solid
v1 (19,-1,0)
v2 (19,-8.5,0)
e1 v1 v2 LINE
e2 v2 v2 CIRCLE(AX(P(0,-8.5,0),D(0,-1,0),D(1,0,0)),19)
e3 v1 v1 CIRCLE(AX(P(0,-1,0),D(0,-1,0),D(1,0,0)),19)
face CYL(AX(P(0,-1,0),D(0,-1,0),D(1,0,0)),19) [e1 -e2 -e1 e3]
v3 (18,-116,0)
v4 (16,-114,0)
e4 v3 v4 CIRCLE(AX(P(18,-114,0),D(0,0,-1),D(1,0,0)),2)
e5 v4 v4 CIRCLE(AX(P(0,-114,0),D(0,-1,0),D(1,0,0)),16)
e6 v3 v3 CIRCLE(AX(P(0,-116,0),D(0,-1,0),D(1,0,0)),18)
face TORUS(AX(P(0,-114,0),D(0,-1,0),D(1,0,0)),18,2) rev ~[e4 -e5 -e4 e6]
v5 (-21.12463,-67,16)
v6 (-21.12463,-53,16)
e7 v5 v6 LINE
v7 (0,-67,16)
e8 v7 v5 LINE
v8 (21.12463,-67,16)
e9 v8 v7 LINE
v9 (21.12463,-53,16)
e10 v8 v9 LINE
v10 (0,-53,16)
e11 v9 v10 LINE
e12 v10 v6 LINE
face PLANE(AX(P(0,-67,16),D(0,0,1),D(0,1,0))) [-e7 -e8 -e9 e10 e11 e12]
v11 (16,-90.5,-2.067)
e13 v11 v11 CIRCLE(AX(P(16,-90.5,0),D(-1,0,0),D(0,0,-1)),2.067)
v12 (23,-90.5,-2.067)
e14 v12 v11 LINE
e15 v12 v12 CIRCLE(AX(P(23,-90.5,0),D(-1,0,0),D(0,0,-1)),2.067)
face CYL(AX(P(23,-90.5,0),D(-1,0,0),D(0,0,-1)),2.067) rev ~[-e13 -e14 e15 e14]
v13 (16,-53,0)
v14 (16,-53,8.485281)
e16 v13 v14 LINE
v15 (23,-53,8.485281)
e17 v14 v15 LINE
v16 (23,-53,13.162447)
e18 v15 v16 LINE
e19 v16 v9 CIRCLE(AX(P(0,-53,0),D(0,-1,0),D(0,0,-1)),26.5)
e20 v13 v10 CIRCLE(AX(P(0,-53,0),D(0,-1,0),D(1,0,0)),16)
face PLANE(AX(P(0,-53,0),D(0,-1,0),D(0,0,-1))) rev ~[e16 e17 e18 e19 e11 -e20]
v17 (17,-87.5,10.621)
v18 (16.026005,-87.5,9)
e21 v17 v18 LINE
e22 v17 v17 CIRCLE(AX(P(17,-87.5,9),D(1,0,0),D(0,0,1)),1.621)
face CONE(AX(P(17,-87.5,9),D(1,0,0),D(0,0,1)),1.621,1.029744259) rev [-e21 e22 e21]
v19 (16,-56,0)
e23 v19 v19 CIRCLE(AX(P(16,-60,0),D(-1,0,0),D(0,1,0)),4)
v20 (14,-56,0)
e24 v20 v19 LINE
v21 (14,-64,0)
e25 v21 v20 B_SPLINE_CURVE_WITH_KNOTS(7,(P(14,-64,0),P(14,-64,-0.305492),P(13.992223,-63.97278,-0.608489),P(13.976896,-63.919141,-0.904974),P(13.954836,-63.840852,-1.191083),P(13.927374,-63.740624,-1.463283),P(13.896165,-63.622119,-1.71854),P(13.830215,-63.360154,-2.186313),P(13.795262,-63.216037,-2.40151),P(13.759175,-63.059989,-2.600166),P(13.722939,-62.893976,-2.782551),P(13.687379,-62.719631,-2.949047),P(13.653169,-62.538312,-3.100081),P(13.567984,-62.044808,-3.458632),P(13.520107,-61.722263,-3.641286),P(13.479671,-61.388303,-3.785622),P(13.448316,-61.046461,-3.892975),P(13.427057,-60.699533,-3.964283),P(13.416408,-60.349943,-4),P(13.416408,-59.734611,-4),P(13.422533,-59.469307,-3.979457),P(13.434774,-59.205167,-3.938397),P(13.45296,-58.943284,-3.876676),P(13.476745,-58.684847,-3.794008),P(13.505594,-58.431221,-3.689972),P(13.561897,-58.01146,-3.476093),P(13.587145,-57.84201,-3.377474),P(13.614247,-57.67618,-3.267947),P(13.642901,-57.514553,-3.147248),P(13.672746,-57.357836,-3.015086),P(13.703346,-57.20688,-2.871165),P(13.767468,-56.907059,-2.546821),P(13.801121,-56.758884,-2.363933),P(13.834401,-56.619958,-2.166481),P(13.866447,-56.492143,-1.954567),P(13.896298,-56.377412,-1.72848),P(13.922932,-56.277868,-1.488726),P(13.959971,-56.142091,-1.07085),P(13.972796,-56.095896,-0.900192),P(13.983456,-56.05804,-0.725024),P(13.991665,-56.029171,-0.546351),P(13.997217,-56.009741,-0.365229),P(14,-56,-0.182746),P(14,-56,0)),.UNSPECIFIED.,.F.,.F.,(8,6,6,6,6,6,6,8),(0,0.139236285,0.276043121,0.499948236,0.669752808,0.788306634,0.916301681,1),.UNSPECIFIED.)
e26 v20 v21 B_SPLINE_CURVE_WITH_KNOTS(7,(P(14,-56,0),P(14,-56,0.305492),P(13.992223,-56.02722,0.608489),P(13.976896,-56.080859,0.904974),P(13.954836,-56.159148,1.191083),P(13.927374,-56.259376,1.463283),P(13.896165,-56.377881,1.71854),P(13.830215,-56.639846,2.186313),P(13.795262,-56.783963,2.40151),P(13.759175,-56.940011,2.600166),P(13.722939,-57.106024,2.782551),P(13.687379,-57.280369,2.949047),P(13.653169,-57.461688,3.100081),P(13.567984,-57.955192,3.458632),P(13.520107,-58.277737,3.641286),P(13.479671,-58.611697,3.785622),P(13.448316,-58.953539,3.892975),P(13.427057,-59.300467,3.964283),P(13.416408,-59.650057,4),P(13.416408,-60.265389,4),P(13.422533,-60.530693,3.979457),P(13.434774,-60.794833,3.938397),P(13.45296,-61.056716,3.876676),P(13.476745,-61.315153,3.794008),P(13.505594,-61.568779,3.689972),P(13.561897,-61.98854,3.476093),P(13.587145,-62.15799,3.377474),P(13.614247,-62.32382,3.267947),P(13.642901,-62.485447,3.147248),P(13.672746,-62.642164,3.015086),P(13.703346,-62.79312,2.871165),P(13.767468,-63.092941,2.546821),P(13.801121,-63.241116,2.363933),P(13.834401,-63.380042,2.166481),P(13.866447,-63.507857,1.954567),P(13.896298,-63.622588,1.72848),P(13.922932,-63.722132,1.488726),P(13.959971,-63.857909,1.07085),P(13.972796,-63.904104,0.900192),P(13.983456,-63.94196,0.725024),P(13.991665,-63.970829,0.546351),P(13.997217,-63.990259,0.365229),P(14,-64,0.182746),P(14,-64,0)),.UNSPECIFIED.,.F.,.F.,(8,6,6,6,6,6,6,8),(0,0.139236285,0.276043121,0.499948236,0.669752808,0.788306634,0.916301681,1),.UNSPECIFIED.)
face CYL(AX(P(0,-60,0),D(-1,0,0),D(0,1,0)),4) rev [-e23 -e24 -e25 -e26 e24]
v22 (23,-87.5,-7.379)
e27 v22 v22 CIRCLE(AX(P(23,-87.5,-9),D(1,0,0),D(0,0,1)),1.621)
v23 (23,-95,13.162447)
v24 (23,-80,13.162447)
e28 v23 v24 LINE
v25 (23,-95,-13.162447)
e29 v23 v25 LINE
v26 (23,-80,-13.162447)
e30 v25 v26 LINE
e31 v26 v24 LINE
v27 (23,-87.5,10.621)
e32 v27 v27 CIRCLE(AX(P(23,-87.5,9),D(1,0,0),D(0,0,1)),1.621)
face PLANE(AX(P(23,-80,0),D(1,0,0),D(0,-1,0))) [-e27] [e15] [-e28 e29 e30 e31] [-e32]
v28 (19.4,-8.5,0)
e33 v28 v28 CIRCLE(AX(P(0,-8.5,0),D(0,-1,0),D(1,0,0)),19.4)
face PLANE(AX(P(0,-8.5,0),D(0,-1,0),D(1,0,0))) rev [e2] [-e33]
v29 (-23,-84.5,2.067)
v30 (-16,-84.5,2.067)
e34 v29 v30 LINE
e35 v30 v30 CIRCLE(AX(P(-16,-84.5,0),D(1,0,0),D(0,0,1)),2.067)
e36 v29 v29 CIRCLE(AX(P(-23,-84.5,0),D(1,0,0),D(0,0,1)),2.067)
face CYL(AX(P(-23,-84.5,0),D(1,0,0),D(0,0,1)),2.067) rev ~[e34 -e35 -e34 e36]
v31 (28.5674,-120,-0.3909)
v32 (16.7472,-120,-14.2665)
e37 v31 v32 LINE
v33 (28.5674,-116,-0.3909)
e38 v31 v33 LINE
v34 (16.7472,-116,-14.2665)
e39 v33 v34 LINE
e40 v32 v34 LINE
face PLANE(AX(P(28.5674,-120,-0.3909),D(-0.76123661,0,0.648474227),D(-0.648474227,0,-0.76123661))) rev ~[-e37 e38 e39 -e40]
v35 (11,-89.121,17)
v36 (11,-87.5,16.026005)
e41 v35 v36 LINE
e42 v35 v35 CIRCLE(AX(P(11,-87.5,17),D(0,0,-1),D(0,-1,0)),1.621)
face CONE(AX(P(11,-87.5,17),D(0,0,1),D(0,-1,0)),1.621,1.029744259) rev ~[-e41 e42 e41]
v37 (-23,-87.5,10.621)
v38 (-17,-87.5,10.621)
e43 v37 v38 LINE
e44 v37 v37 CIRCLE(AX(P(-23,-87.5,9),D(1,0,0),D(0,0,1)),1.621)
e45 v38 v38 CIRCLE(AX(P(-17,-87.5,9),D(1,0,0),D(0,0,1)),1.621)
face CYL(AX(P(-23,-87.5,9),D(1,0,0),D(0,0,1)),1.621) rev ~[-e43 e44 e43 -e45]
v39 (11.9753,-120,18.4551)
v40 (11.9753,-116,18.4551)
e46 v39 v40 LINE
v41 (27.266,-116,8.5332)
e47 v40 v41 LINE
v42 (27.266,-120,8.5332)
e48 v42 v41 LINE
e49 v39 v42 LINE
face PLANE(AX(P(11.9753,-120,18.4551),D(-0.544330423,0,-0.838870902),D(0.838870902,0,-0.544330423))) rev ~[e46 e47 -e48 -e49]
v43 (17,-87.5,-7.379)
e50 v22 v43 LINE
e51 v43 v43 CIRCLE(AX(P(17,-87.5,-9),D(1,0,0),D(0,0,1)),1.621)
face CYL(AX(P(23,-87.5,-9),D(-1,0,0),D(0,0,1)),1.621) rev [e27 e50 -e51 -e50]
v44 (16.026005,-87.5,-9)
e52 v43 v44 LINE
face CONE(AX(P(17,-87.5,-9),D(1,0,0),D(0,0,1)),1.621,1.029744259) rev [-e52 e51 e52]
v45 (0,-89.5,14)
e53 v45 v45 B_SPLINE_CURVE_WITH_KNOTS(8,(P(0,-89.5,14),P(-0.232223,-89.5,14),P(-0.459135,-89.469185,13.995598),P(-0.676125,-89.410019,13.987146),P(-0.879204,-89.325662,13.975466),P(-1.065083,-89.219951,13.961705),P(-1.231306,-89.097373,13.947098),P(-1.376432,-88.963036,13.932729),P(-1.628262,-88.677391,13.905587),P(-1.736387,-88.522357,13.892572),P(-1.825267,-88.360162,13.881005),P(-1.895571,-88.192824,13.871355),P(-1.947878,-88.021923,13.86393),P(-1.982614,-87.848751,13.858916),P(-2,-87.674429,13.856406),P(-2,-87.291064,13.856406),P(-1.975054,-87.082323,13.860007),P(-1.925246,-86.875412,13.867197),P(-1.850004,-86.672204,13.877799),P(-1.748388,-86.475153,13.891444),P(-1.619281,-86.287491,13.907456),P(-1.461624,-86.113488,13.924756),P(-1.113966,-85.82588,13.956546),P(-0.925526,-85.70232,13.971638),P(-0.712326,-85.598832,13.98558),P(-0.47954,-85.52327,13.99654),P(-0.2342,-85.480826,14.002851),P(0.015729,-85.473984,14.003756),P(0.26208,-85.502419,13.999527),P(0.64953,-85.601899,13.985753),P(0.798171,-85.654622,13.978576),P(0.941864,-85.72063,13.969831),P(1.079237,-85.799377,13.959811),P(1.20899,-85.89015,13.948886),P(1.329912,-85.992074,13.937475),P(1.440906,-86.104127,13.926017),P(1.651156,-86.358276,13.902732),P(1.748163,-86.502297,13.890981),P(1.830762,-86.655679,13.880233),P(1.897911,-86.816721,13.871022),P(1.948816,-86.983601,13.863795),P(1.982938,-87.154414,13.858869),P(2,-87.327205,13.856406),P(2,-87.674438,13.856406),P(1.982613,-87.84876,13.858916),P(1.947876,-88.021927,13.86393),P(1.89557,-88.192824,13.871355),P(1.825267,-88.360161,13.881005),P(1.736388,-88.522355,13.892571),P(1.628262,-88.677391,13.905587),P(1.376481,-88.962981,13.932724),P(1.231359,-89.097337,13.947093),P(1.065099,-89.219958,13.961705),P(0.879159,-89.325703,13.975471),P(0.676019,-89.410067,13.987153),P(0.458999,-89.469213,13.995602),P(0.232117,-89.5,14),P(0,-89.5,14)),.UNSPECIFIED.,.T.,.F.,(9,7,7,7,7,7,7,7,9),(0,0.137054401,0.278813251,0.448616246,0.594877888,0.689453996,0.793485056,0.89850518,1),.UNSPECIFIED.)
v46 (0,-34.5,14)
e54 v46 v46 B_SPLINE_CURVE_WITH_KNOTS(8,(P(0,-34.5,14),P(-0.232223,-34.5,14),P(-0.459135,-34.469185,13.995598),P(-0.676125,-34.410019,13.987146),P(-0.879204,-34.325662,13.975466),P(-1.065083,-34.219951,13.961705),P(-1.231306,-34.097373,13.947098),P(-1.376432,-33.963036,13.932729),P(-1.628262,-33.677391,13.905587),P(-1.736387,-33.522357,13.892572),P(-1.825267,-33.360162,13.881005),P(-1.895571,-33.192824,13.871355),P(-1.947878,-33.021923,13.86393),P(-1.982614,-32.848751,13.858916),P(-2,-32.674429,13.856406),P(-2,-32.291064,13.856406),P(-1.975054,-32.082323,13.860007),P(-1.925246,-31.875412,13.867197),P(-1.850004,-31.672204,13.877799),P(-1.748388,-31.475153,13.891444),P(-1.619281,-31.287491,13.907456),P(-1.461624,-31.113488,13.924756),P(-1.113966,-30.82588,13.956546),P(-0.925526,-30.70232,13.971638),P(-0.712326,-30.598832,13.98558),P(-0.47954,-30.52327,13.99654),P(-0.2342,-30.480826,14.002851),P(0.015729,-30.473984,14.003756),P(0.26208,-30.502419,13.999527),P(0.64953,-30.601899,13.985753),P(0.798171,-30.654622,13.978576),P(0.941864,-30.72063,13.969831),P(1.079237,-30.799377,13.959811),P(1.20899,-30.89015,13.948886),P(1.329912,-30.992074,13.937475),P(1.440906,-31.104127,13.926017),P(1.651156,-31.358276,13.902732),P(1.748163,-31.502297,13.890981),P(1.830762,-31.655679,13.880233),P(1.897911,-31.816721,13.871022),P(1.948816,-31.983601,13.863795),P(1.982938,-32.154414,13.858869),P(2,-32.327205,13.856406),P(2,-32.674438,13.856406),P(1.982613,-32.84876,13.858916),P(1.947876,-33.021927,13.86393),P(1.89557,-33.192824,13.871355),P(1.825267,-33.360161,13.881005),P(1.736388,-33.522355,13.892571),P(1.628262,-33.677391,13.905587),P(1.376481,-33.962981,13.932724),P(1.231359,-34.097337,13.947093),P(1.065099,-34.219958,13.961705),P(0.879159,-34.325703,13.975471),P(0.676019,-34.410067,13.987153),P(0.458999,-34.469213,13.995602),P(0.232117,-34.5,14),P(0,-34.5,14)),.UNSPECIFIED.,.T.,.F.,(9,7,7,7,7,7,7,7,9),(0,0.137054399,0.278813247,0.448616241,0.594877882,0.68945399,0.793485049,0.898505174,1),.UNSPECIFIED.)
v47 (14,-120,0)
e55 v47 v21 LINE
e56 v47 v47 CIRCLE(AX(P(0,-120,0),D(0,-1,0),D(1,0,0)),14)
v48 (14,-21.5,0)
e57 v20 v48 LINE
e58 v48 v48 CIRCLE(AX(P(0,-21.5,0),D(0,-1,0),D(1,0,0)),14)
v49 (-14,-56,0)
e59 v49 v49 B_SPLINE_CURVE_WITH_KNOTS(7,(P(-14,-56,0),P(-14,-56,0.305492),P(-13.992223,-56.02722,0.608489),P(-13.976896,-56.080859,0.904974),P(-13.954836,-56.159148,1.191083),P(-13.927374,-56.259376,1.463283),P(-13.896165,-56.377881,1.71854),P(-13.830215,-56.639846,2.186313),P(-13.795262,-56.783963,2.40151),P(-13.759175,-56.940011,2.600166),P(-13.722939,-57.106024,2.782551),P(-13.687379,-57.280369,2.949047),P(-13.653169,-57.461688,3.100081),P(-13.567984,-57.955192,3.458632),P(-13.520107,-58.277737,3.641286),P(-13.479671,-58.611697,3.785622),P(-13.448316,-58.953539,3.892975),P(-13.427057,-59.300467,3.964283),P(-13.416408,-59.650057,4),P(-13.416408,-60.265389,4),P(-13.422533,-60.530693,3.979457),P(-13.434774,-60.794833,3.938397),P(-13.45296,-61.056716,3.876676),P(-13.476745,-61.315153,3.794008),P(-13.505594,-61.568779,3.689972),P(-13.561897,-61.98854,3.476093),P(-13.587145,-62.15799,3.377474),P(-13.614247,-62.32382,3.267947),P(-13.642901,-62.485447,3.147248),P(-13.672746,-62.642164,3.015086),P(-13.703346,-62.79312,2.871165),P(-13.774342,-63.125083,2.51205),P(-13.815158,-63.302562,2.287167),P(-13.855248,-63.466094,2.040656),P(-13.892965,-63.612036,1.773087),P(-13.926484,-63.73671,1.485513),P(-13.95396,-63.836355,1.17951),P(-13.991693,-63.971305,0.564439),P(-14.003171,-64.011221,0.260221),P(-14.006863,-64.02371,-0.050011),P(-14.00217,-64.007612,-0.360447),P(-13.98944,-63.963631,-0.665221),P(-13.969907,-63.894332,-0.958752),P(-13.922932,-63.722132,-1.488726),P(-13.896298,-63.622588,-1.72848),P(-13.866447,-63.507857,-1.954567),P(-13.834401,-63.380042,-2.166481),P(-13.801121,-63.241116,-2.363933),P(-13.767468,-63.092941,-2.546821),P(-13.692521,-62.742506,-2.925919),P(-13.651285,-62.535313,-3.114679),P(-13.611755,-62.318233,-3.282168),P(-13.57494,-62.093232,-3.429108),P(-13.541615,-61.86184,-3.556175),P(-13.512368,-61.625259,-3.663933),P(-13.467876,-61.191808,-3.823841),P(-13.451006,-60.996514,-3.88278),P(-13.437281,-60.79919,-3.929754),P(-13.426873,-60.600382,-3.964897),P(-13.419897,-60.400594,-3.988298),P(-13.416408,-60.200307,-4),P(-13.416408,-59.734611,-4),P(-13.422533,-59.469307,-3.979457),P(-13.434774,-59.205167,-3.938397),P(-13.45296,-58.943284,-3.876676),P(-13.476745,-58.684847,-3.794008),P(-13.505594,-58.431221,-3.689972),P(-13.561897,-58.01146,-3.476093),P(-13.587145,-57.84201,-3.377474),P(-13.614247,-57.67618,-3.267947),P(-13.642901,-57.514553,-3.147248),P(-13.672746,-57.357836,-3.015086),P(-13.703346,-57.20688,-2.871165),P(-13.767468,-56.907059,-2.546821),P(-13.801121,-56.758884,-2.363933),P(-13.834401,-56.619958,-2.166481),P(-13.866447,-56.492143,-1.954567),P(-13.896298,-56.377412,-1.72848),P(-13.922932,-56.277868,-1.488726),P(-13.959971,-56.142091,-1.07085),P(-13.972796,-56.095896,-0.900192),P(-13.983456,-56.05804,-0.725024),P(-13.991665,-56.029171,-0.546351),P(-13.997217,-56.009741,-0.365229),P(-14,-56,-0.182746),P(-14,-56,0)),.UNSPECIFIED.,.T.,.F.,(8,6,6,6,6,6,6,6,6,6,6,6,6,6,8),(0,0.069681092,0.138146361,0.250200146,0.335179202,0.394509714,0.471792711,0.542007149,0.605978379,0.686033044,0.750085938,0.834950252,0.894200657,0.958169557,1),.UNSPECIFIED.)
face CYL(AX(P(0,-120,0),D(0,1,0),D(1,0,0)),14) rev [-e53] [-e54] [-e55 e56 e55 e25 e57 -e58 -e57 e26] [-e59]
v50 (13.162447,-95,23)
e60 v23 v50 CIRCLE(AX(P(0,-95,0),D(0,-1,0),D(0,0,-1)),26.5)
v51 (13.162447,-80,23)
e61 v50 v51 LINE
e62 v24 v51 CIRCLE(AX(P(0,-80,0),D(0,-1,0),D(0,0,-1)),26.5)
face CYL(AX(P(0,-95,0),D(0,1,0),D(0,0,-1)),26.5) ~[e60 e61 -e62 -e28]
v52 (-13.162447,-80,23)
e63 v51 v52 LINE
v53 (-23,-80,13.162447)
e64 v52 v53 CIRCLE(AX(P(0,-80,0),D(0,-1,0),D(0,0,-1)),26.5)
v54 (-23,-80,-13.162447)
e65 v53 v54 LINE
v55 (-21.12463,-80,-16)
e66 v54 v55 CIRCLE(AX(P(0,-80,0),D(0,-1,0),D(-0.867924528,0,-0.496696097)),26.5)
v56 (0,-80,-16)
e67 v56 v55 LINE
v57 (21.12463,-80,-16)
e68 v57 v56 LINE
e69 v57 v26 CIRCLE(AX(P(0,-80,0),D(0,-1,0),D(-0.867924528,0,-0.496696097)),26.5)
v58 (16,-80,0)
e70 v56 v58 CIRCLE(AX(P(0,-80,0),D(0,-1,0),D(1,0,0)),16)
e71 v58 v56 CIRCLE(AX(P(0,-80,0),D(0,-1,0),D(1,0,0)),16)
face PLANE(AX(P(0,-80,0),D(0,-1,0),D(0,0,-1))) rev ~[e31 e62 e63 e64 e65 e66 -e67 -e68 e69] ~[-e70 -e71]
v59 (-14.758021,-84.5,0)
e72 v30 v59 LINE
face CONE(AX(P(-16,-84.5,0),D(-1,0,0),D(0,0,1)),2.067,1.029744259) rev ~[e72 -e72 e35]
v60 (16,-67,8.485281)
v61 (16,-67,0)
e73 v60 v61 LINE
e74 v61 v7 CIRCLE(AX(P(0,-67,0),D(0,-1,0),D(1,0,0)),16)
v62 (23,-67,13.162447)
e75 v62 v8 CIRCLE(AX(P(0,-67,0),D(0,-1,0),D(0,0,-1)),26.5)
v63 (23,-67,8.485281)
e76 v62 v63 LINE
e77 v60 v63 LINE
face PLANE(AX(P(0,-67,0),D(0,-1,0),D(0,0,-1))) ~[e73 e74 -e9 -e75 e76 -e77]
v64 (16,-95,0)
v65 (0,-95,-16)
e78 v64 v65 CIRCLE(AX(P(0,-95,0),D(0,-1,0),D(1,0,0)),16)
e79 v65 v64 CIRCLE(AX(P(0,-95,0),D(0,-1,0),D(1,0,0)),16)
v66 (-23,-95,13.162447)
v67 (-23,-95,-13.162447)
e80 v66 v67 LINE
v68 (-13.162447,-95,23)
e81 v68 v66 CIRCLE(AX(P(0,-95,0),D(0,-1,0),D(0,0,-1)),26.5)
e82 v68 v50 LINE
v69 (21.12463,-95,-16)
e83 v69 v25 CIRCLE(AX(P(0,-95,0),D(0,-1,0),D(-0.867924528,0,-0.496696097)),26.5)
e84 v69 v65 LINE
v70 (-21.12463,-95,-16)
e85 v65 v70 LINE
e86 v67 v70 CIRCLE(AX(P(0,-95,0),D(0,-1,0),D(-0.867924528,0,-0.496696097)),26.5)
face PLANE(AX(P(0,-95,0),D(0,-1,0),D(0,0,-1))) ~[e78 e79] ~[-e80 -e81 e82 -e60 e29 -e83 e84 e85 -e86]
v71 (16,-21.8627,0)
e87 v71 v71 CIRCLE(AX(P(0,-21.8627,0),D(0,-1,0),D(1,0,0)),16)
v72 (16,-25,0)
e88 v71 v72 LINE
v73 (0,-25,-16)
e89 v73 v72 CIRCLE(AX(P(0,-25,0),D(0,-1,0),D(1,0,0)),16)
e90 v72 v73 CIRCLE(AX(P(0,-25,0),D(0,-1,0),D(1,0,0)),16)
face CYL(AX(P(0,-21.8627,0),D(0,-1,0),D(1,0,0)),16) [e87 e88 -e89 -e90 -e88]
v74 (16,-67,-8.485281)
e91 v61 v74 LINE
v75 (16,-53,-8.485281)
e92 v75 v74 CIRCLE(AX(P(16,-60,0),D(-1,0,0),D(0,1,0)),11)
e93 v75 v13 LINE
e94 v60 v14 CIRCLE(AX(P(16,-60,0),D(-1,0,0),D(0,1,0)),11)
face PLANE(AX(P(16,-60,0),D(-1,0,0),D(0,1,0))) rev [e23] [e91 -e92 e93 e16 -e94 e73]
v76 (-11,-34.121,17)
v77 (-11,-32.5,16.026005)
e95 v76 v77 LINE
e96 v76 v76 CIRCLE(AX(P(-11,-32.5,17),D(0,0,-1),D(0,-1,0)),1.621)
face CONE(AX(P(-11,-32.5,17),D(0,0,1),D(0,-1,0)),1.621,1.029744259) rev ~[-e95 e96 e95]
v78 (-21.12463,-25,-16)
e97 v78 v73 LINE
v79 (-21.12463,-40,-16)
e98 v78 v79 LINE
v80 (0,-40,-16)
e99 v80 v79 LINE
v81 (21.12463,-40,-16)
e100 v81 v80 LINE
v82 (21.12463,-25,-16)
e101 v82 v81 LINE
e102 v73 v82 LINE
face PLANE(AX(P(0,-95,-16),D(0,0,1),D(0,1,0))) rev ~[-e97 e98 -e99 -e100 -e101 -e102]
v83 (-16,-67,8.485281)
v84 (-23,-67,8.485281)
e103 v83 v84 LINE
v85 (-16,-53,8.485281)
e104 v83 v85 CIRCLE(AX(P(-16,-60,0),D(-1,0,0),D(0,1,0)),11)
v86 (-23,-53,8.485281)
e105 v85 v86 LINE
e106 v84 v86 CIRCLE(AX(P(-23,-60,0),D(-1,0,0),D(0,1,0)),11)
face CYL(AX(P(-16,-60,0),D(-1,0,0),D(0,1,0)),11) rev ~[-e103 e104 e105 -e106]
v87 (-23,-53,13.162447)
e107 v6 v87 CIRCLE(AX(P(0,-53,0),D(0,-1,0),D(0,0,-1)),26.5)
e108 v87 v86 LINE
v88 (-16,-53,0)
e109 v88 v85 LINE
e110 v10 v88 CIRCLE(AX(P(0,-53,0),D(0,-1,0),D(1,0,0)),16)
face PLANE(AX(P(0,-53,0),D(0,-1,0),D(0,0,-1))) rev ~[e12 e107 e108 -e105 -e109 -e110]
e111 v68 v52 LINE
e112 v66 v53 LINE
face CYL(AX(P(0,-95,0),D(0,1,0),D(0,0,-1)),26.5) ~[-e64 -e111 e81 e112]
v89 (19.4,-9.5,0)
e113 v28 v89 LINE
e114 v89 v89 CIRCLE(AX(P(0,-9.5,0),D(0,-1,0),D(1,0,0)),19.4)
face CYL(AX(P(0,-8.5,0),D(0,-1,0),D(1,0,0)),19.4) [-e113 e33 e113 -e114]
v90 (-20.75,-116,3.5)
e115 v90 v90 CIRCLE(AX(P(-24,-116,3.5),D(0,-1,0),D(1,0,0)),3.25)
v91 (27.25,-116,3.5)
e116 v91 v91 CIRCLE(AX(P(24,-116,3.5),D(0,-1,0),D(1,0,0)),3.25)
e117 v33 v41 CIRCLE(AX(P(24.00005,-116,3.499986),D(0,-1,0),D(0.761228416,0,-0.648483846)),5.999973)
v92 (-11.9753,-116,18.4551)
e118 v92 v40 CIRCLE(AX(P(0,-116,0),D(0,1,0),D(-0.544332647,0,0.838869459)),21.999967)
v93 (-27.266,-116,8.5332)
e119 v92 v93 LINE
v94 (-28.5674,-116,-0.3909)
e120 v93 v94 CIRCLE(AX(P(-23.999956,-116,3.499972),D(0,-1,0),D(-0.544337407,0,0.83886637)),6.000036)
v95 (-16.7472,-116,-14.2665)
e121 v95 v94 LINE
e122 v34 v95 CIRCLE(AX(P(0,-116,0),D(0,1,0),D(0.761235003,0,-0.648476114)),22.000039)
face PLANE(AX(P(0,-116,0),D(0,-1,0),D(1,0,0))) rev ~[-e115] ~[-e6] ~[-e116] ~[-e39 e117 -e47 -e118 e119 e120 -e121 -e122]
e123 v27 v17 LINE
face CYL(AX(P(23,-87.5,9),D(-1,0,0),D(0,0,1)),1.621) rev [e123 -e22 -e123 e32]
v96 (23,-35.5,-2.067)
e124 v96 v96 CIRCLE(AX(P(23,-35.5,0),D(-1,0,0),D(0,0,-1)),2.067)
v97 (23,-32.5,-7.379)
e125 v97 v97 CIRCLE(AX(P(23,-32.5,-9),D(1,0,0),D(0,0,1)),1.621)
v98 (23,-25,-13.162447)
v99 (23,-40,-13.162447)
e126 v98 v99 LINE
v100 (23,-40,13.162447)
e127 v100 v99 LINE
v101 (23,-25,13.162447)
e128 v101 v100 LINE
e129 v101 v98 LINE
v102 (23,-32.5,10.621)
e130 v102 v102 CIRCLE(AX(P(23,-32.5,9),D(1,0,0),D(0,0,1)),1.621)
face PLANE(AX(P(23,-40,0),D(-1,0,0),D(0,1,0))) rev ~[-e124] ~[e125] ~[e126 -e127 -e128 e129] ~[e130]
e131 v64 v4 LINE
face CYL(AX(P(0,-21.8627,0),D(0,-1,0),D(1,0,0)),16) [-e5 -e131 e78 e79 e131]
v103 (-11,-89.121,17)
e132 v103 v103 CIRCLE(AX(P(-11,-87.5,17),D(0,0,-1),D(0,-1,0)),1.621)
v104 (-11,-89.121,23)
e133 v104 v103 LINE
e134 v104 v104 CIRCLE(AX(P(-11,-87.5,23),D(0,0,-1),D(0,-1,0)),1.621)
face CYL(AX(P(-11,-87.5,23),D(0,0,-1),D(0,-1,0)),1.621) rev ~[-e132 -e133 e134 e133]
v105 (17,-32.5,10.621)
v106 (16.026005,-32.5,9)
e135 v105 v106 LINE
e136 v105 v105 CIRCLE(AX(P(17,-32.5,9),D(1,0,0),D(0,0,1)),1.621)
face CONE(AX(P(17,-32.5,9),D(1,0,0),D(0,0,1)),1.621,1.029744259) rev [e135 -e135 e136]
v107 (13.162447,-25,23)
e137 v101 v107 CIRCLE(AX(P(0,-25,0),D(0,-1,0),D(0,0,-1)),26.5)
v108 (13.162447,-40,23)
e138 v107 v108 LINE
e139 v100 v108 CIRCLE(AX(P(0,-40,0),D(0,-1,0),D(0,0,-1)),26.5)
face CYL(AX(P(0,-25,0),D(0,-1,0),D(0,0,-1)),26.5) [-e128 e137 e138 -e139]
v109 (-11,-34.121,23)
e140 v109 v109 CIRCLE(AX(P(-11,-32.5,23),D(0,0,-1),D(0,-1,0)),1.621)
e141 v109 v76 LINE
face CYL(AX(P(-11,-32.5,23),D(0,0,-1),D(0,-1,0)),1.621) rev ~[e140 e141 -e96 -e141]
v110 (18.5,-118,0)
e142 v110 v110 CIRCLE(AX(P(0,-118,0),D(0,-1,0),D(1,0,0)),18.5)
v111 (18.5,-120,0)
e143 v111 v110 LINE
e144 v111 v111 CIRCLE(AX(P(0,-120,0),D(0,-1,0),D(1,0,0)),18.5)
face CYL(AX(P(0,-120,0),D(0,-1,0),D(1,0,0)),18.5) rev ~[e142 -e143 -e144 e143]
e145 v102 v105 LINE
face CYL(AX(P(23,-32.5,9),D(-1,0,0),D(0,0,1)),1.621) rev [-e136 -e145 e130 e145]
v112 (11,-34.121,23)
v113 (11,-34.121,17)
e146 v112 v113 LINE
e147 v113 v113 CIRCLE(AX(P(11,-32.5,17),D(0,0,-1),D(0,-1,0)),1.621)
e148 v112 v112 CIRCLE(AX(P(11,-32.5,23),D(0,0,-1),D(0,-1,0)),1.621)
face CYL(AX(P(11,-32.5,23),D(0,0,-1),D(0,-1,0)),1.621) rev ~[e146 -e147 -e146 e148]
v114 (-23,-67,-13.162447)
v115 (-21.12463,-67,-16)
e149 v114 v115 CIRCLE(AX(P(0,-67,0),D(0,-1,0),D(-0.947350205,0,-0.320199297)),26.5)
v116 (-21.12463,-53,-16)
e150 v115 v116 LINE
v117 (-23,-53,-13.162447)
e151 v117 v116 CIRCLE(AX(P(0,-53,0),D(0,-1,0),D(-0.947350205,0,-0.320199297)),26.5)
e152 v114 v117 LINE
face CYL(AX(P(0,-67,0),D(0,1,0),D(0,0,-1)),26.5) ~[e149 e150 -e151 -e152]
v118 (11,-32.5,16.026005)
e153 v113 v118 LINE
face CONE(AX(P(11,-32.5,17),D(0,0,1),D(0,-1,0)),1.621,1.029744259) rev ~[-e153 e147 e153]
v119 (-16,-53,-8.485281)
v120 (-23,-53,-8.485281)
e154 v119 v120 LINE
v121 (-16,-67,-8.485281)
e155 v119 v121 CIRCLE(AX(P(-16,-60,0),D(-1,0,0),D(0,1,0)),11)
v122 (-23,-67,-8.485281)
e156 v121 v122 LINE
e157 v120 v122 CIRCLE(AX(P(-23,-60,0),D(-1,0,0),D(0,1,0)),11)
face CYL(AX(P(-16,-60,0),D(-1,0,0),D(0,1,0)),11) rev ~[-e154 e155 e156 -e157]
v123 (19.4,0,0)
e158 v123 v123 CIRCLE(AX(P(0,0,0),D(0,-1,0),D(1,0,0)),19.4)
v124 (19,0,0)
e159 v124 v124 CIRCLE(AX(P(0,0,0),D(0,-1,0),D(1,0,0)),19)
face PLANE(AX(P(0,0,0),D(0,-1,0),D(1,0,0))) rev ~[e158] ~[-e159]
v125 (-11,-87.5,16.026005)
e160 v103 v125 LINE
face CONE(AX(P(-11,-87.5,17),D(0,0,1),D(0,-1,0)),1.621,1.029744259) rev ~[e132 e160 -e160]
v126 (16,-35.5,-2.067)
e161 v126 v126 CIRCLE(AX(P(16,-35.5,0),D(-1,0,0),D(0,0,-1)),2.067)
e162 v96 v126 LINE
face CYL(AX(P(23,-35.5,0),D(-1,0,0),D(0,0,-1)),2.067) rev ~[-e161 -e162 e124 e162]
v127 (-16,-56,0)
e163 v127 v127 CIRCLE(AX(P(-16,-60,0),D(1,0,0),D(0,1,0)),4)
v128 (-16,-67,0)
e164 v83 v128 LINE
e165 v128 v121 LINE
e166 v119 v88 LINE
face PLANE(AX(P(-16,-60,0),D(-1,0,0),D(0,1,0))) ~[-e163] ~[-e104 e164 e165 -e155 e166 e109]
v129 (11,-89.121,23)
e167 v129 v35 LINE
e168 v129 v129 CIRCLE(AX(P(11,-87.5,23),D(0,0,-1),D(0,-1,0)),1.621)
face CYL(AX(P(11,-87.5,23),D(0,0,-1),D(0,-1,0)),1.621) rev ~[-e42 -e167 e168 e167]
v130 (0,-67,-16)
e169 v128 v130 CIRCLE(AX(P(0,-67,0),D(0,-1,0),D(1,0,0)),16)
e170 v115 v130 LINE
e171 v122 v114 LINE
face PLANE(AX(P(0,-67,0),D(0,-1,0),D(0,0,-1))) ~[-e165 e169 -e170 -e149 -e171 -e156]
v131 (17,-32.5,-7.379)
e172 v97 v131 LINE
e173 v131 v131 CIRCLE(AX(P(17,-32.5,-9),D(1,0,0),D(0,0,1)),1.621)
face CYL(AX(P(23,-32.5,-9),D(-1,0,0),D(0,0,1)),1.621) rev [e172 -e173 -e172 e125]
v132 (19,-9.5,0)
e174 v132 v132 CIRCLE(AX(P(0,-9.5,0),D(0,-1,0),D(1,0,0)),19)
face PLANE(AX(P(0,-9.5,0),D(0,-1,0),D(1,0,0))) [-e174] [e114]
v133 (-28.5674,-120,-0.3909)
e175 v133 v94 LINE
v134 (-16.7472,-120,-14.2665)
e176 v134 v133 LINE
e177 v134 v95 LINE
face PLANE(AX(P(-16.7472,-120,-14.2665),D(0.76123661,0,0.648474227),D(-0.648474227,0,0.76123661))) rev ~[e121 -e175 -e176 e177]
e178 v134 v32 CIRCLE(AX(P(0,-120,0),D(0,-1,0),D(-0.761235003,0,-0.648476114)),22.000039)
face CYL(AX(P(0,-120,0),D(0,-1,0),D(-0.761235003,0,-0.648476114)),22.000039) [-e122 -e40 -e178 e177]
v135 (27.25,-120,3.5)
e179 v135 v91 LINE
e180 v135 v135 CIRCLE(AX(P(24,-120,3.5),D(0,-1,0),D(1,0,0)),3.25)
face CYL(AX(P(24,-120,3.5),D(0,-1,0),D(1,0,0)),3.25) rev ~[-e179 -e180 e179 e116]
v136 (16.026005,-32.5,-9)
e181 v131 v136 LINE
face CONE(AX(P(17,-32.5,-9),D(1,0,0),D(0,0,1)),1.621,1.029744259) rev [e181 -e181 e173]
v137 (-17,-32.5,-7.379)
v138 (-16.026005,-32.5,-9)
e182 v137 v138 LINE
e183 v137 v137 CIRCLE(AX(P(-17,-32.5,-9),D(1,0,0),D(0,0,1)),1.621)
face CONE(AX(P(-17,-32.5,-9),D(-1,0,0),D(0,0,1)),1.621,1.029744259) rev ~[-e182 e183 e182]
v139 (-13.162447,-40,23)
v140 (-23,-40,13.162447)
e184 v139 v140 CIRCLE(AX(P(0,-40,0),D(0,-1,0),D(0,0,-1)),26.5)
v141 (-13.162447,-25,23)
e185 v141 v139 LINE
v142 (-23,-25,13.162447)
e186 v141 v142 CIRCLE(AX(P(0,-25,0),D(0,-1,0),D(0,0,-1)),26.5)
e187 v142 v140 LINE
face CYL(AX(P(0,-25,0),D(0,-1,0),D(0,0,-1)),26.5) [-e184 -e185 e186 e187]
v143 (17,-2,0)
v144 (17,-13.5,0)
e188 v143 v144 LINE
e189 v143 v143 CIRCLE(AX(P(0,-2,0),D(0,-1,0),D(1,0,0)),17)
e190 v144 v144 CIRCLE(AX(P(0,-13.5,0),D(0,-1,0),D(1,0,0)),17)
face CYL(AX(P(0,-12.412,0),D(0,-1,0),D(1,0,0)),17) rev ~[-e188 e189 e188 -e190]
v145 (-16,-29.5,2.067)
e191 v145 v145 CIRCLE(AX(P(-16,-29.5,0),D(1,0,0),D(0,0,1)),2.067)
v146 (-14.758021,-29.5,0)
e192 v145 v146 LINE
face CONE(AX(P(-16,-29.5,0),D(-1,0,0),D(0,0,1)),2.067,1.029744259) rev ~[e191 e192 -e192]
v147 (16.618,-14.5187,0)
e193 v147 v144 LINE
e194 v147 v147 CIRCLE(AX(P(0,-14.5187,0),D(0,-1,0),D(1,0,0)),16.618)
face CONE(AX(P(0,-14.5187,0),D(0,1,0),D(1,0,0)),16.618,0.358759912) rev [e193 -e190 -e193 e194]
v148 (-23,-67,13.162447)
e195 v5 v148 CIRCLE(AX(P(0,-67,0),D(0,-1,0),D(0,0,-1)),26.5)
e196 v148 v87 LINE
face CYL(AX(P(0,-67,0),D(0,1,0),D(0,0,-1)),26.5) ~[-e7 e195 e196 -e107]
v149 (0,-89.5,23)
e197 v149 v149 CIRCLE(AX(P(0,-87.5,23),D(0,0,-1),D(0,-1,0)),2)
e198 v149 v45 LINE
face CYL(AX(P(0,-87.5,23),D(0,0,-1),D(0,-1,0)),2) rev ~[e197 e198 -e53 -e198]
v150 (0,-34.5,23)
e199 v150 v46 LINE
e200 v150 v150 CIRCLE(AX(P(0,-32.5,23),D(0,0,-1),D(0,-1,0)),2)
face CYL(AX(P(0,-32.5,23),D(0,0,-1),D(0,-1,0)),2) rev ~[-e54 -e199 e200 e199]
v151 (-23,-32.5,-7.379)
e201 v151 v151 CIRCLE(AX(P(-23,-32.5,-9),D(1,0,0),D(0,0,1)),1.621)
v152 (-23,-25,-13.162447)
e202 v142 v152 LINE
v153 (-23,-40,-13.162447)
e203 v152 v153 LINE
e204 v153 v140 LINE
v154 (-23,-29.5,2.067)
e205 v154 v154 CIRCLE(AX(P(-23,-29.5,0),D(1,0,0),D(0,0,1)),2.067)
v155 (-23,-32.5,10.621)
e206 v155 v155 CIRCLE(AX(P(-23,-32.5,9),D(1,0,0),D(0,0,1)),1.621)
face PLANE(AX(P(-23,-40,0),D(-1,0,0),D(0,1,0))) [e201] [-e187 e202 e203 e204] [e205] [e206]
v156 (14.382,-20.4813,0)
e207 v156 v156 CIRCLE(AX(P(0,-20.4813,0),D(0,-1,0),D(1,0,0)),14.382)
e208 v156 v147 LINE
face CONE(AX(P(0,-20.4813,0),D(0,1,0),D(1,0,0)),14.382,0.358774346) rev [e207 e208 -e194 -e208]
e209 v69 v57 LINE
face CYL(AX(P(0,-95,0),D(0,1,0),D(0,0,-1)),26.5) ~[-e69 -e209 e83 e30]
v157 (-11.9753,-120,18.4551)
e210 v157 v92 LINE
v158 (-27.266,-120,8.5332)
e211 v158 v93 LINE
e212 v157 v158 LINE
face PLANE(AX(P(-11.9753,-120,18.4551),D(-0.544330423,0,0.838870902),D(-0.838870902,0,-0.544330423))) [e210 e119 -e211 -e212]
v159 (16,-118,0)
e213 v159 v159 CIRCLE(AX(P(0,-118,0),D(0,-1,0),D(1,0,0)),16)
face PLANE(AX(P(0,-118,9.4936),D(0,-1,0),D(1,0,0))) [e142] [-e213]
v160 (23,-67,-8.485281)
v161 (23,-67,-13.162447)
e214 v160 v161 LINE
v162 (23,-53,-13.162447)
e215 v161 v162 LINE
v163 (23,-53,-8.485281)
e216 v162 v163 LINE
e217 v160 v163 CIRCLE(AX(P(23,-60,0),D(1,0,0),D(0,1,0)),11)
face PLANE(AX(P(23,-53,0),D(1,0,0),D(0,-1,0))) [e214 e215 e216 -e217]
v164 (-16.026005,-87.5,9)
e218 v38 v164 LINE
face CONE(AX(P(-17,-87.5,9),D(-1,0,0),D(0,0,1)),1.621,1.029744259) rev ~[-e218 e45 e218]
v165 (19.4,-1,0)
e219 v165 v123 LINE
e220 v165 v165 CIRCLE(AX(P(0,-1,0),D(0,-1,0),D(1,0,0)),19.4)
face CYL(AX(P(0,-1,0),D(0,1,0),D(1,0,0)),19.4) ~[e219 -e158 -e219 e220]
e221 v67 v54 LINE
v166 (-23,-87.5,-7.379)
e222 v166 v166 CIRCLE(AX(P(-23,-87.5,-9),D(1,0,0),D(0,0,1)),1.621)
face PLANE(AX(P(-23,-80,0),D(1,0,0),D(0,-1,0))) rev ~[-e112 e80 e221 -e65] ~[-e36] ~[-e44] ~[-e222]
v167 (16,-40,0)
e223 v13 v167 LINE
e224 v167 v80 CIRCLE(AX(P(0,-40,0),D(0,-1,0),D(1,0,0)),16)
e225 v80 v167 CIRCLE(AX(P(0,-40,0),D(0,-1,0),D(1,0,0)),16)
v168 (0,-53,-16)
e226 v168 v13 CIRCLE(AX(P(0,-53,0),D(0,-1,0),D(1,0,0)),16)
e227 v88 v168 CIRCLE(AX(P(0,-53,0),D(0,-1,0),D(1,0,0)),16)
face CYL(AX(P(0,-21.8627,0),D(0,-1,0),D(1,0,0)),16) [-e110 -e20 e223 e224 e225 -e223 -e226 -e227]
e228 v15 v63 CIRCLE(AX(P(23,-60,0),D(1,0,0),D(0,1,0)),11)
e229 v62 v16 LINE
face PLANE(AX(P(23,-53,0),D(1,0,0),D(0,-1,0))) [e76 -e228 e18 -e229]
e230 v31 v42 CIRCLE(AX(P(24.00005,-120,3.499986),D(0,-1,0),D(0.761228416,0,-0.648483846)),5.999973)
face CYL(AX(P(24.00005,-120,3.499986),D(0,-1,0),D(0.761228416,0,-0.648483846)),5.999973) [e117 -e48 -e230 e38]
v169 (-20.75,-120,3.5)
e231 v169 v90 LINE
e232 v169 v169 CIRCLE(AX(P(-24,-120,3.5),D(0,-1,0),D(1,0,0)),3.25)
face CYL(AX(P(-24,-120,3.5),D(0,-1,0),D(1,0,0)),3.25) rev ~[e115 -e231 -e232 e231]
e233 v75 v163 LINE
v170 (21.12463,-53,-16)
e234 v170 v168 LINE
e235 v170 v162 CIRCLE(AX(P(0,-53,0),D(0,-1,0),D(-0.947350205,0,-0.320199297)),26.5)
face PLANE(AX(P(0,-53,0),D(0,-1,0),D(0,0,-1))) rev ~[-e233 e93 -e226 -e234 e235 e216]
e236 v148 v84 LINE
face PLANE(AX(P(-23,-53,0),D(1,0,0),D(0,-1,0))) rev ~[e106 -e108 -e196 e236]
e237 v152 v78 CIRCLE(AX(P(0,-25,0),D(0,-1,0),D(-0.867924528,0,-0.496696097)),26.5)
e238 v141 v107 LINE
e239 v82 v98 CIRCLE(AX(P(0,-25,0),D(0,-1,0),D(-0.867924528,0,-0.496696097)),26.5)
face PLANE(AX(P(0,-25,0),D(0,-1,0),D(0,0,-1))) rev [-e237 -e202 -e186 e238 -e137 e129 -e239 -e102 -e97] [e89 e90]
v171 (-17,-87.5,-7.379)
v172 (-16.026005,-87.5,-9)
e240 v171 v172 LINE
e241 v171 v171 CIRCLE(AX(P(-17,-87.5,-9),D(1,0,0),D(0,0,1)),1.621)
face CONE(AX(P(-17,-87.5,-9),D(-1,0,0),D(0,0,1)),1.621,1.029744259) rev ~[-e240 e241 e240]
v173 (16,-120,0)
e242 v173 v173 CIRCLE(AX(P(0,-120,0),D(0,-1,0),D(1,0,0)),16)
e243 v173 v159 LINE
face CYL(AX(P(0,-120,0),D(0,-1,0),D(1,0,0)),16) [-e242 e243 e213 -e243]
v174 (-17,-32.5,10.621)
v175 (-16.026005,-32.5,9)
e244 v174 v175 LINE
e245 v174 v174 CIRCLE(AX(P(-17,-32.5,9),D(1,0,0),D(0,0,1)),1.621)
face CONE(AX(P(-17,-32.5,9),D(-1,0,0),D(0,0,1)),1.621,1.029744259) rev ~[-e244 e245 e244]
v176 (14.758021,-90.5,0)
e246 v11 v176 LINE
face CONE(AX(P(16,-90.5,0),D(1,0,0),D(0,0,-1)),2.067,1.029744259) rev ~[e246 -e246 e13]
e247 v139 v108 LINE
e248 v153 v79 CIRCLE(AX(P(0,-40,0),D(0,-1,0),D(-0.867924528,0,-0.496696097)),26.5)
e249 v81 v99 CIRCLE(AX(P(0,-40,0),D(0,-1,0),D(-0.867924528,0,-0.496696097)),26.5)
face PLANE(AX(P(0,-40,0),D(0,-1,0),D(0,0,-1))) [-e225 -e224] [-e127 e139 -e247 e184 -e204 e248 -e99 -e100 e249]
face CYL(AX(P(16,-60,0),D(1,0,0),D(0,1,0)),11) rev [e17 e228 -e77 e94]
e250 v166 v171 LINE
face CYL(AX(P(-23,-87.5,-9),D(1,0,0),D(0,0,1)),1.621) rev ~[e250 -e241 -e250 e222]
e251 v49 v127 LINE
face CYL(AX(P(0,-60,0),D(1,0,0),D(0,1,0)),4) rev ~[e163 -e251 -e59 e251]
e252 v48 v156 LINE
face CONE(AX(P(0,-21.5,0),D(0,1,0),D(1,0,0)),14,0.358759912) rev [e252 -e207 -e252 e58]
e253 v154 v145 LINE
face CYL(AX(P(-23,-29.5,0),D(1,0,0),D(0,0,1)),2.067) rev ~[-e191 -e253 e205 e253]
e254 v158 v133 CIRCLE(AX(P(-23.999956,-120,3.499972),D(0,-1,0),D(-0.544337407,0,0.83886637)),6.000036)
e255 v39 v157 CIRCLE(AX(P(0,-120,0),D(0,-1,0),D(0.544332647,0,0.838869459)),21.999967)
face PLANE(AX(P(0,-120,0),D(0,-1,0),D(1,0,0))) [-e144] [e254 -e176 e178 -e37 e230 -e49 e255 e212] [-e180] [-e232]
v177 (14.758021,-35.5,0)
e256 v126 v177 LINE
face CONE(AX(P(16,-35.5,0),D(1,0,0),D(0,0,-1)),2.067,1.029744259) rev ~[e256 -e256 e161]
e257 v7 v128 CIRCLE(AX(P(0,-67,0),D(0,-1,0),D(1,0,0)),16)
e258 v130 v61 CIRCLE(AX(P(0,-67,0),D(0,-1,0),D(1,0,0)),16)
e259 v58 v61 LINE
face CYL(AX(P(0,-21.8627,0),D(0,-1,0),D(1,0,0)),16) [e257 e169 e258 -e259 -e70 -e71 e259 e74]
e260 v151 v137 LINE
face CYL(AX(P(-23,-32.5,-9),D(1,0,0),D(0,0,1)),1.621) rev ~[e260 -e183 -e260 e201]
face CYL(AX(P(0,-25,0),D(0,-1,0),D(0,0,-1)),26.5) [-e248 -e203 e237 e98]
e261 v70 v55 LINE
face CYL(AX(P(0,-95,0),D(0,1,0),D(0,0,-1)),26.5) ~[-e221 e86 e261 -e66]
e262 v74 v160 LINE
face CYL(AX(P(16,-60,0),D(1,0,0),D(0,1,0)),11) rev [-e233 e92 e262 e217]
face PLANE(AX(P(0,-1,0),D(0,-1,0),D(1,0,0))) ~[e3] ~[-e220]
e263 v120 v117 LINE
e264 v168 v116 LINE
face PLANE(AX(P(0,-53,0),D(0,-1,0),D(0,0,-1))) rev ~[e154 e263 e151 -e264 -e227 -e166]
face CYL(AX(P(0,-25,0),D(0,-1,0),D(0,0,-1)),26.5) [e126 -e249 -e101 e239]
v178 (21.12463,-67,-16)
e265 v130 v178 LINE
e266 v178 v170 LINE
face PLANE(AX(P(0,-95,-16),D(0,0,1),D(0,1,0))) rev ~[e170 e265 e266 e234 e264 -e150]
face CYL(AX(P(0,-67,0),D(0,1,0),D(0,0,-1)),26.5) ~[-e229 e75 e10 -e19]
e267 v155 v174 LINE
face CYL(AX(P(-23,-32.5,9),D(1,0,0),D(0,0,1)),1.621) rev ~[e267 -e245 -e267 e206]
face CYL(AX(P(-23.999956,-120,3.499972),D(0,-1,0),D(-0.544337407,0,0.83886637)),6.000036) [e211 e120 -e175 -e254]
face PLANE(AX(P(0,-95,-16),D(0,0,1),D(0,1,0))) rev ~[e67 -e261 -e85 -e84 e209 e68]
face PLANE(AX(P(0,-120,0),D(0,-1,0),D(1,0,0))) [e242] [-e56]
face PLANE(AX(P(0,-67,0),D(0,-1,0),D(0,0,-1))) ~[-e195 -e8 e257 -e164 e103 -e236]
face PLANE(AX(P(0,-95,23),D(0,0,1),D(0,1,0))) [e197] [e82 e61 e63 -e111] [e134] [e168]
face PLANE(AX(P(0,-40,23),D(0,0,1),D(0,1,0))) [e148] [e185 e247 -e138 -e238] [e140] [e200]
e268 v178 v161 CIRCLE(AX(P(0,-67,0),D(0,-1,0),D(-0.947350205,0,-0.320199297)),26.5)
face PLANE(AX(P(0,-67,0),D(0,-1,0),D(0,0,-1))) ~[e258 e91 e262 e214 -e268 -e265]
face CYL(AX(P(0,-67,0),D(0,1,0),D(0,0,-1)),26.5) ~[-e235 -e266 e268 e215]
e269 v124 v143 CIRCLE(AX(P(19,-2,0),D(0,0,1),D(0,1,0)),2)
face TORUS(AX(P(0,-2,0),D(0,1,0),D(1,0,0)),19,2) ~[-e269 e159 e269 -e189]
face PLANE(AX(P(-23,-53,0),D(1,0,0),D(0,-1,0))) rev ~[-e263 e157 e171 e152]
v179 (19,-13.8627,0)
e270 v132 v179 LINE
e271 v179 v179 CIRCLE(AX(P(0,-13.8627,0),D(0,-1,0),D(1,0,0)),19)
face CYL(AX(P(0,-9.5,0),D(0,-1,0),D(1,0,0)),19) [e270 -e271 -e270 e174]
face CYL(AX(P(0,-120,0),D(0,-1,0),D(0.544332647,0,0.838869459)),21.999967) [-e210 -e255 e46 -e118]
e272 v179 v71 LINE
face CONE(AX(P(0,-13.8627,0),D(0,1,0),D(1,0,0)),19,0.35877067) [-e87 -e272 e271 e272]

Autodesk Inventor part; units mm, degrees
ref_plane "YZ Plane" through (0, 0, 0) normal (1, 0, 0) x (0, 1, 0)
ref_plane "XZ Plane" through (0, 0, 0) normal (0, 1, 0) x (-1, 0, 0)
ref_plane "XY Plane" through (0, 0, 0) normal (0, 0, 1) x (1, 0, 0)
sketch "Sketch1" plane through (0, 0, 0) normal (0, 0, 1) x (1, 0, 0)
  line L0 (14, -120) -> (14, -22.588)
  line L1 (14.382, -20.4813) -> (16.618, -14.5187)
  line L2 (17, -12.412) -> (17, -2)
  line L3 (19, -13.8627) -> (16, -21.8627)
  line L4 (16, -21.8627) -> (16, -120)
  line L5 (19.5, 0) -> (19, 0)
  line L6 (16, -120) -> (14, -120)
  line L7 (19, -1) -> (19.4, -1)
  line L8 (19.4, -1) -> (19.4, 0)
  line L9 (19.4, 0) -> (19.5, 0)
  line L10 (19, -8.5) -> (19.4, -8.5)
  line L11 (19.4, -8.5) -> (19.4, -9.5)
  line L12 (19.4, -9.5) -> (19, -9.5)
  line L13 (19, -9.5) -> (19, -13.8627)
  line L14 (19, -1) -> (19, -8.5)
  line L15 (0, 0) -> (0, -57.1164)
  arc A0 (19, 0) -> (17, -2) centre (19, -2) ccw
  line L16 (-23.8, 0) -> (30.8, 0) construction
  line L17 (14, -21.5) -> (14.382, -20.4813)
  line L18 (14, -22.588) -> (14, -21.5)
  line L19 (16.618, -14.5187) -> (17, -13.5)
  line L20 (17, -12.412) -> (17, -13.5)
  point P0 (17, 0)
  point P1 (17, 0)
  point P2 (16, -38.699)
  dimension "d1" = 13.5
  dimension "d2" = 21.5
  dimension "d3" = 14
  dimension "d4" = 120
  dimension "d5" = 2
  dimension "d6" = 0.4
  dimension "d7" = 1
  dimension "d8" = 0.4
  dimension "d9" = 1
  dimension "d10" = 8.5
  dimension "d124" = 19
  dimension "d125" = 2
  dimension "d126" = 2
  dimension "d127" = 2
revolve "Revolution1" add sketch "Sketch1" angle 360 about axis through (0, 0, 0) along (0, -1, 0)
sketch "Sketch5" plane through (0, -120, 0) normal (0, -1, 0) x (1, 0, 0)
  circle A0 centre (0, 0) radius 14 projected
  circle A1 centre (0, 0) radius 16 projected
  point P0 (-16, 0)
sketch "Sketch7" plane through (0, -120, 0) normal (0, -1, 0) x (1, 0, 0)
  circle A0 centre (0, 0) radius 14 projected
  circle A1 centre (-24, 3.5) radius 3.25
  circle A2 centre (24, 3.5) radius 3.25
  circle A3 centre (0, 0) radius 18.5
  line L0 (-34.5214, 0) -> (40.2242, 0) construction
  circle A4 centre (0, 0) radius 14 construction
  line L1 (0, -32.9352) -> (0, 39.8381)
  arc A5 (-27.266, 8.5332) -> (-28.5674, -0.3909) centre (-24, 3.5) ccw
  arc A6 (28.5674, -0.3909) -> (27.266, 8.5332) centre (24, 3.5) ccw
  arc A7 (-16.7472, -14.2665) -> (16.7472, -14.2665) centre (0, 0) ccw
  arc A8 (11.9753, 18.4551) -> (-11.9753, 18.4551) centre (0, 0) ccw
  line L2 (-11.9753, 18.4551) -> (-27.266, 8.5332)
  line L3 (11.9753, 18.4551) -> (27.266, 8.5332)
  line L4 (28.5674, -0.3909) -> (16.7472, -14.2665)
  line L5 (-16.7472, -14.2665) -> (-28.5674, -0.3909)
  point P0 (0, -18.5)
  dimension "d28" = 37
  dimension "d24" = 6.5
  dimension "d27" = 6.5
  dimension "d148" = 3.5
  dimension "d149" = 22
  dimension "d150" = 6
  dimension "d151" = 6
  dimension "d152" = 3.5
  dimension "d155" = 48
  dimension "d157" = 24
extrude "Extrusion2" add sketch "Sketch7" against normal blind 4 contours A0 L1 A3 | A0 L1 A3 | L1 A8 L3 A6 L4 A7 A3 | A3 L1 A7 L5 A5 L2 A8
sketch "Sketch8" plane through (0, -120, 9.4936) normal (0, -1, 0) x (1, 0, 0)
  circle A0 centre (0, -9.4936) radius 16
  circle A1 centre (0, -9.4936) radius 18.5 projected
  circle A2 centre (0, -9.4936) radius 18.5
extrude "Extrusion3" cut sketch "Sketch8" against normal blind 2
fillet "Fillet1" radius 2 1 edges at (-16, -116, 0)
sketch "Sketch9" plane through (0, 0, 0) normal (1, 0, 0) x (0, 1, 0)
  line L0 (-21.8627, 16) -> (-114, 16) projected
  line L1 (-21.8627, 16) -> (-21.8627, -16) projected
  line L2 (-32.5282, 0) -> (-141.2862, 0) construction
  line L3 (-53, -16) -> (-67, -16)
  line L4 (-67, -16) -> (-67, -26.5)
  line L5 (-67, -26.5) -> (-53, -26.5)
  line L6 (-53, -26.5) -> (-53, -16)
  line L7 (-80, -16) -> (-95, -16)
  line L8 (-95, -16) -> (-95, -26.5)
  line L9 (-95, -26.5) -> (-80, -26.5)
  line L10 (-80, -26.5) -> (-80, -16)
  line L11 (-21.8627, -16) -> (-114, -16) construction
  line L12 (-40, -16) -> (-25, -16)
  line L13 (-25, -16) -> (-25, -26.5)
  line L14 (-25, -26.5) -> (-40, -26.5)
  line L15 (-40, -26.5) -> (-40, -16)
  line L16 (-87.5, -26.5) -> (-87.5, -22.6244) construction
  line L17 (-60, -26.5) -> (-60, -20.6547) construction
  line L18 (0, 19.4) -> (0, -19.4) projected
  point P0 (0, 0)
  dimension "d42" = 14
  dimension "d47" = 10.5
  dimension "d55" = 10.5
  dimension "d57" = 35
  dimension "d58" = 20
  dimension "d59" = 20
  dimension "d60" = 35
  dimension "d61" = 10.5
  dimension "d147" = 60
revolve "Revolution2" add sketch "Sketch9" angle 360 about axis through (0, -32.5282, 0) along (0, -1, 0)
sketch "Sketch10" plane through (0, 0, 0) normal (1, 0, 0) x (0, 1, 0)
  line L0 (-95, 16) -> (-114, 16) construction
  line L1 (-95, -16) -> (-114, -16) construction
  line L2 (-53, 26.5) -> (-53, -26.5) construction
  line L3 (-67, 26.5) -> (-67, -26.5) construction
  circle A0 centre (-60, 0) radius 4
  line L4 (-53, -26.5) -> (-67, -26.5) projected
  line L5 (-144, 0) -> (24, 0) construction
  point P0 (0, 0)
  point P1 (-60, -26.5)
  dimension "d50" = 8
extrude "Extrusion4" cut sketch "Sketch10" along normal through all both and the other way through all
sketch "Sketch11" plane through (0, 0, 0) normal (0, 0, 1) x (1, 0, 0)
  line L0 (-26.5, -53) -> (26.5, -53) construction
  line L1 (16, -53) -> (-16, -53) construction
  line L2 (-26.5, -53) -> (26.5, -53) construction
  line L3 (14, -120) -> (14, -21.5) construction
  line L4 (14, -120) -> (14, -21.5) construction
  line L5 (14, -120) -> (14, -21.5) construction
  line L6 (14, -120) -> (14, -21.5) construction
  line L7 (-14, -120) -> (-14, -21.5) construction
  line L8 (-26.5, -53) -> (-26.5, -67) construction
  line L9 (-26.5, -67) -> (26.5, -67) construction
  line L10 (27.5381, -60) -> (-34.1758, -60)
  line L11 (16, -40) -> (16, -53) construction
  line L12 (-16, -40) -> (-16, -53) construction
  line L13 (-16, -67) -> (-16, -80) construction
  line L14 (16, -67) -> (16, -80) construction
  line L15 (26.5, -53) -> (26.5, -67) construction
  line L16 (26.5, -60) -> (16, -60)
  line L17 (16, -60) -> (16, -49)
  line L18 (16, -49) -> (26.5, -49)
  line L19 (26.5, -49) -> (26.5, -60)
  line L20 (-26.5, -60) -> (-16, -60)
  line L21 (-16, -60) -> (-16, -49)
  line L22 (-16, -49) -> (-26.5, -49)
  line L23 (-26.5, -49) -> (-26.5, -60)
  line L24 (-19.6, -60) -> (19.6, -60) construction
  point P0 (0, 0)
  dimension "d62" = 11
revolve "Revolution3" cut sketch "Sketch11" angle 360 about axis through (27.5381, -60, 0) along (-1, 0, 0)
sketch "Sketch12" plane through (0, 0, 0) normal (0, 0, 1) x (1, 0, 0)
  line L0 (-25.1048, -53) -> (25.1048, -53) construction
  line L1 (-25.1048, -67) -> (25.1048, -67) construction
  line L2 (-16, -40) -> (-16, -53) construction
  line L3 (-16, -67) -> (-16, -80) construction
  line L4 (16, -40) -> (16, -53) construction
  line L5 (16, -67) -> (16, -80) construction
  line L6 (-25.1048, -53) -> (-23, -53)
  line L7 (-23, -53) -> (-23, -67)
  line L8 (-23, -67) -> (-25.1048, -67)
  line L9 (-25.1048, -67) -> (-25.1048, -53)
  line L10 (-25.1048, -67) -> (-16, -67) construction
  line L11 (0, 4.0598) -> (0, -79.7186) construction
  line L12 (25.1048, -53) -> (23, -53)
  line L13 (23, -53) -> (23, -67)
  line L14 (23, -67) -> (25.1048, -67)
  line L15 (25.1048, -67) -> (25.1048, -53)
  line L16 (-26.5, -25) -> (-26.5, -40) construction
  line L17 (-26.5, -25) -> (26.5, -25) construction
  line L18 (-25.1048, -53) -> (25.1048, -53) construction
  line L19 (-26.5, -80) -> (26.5, -80) construction
  line L20 (-26.5, -95) -> (26.5, -95) construction
  line L21 (-26.5, -40) -> (26.5, -40) construction
  line L22 (-26.5, -40) -> (-23, -40)
  line L23 (-23, -40) -> (-23, -25)
  line L24 (-23, -25) -> (-26.5, -25)
  line L25 (-26.5, -25) -> (-26.5, -40)
  line L26 (-26.5, -80) -> (-23, -80)
  line L27 (-23, -80) -> (-23, -95)
  line L28 (-23, -95) -> (-26.5, -95)
  line L29 (-26.5, -95) -> (-26.5, -80)
  line L30 (-16, -21.8627) -> (-16, -25) construction
  line L31 (-16, -95) -> (-16, -114) construction
  line L32 (26.5, -25) -> (26.5, -40) construction
  line L33 (26.5, -40) -> (23, -40)
  line L34 (23, -40) -> (23, -25)
  line L35 (23, -25) -> (26.5, -25)
  line L36 (26.5, -25) -> (26.5, -40)
  line L37 (26.5, -80) -> (23, -80)
  line L38 (23, -80) -> (23, -95)
  line L39 (23, -95) -> (26.5, -95)
  line L40 (26.5, -95) -> (26.5, -80)
  point P0 (0, 0)
  point P1 (25.1048, -53)
  point P2 (25.1048, -67)
  dimension "d64" = 7
  dimension "d69" = 7
extrude "Extrusion5" cut sketch "Sketch12" along normal through all both and the other way through all
sketch "Sketch13" plane through (0, 0, 0) normal (1, 0, 0) x (0, 1, 0)
  line L0 (-25, 26.5) -> (-25, -26.5) construction
  line L1 (-40, 16) -> (-53, 16) construction
  line L2 (-33.4184, 0) -> (-136.7664, 0) construction
  line L3 (-80, -26.5) -> (-95, -26.5) construction
  line L4 (-25, -26.5) -> (-40, -26.5) construction
  line L5 (-53, -26.5) -> (-67, -26.5) construction
  line L6 (-40, -16) -> (-53, -16) construction
  line L7 (-25, -26.5) -> (-95, -26.5)
  line L8 (-95, -26.5) -> (-95, -16)
  line L9 (-95, -16) -> (-25, -16)
  line L10 (-25, -16) -> (-25, -26.5)
  line L11 (-40, 16) -> (-40, -16) projected
  line L12 (-53, 26.5) -> (-67, 26.5)
  line L13 (-67, 26.5) -> (-67, 16)
  line L14 (-67, 16) -> (-53, 16)
  line L15 (-53, 16) -> (-53, 26.5)
  line L16 (-40, 26.5) -> (-40, 13.1624) projected
  line L17 (-25, 26.5) -> (-40, 26.5)
  line L18 (-40, 26.5) -> (-40, 23)
  line L19 (-40, 23) -> (-25, 23)
  line L20 (-25, 23) -> (-25, 26.5)
  line L21 (-95, 26.5) -> (-95, 13.1624) projected
  line L22 (-80, 26.5) -> (-95, 26.5)
  line L23 (-95, 26.5) -> (-95, 23)
  line L24 (-95, 23) -> (-80, 23)
  line L25 (-80, 23) -> (-80, 26.5)
  point P0 (0, 0)
  point P1 (-95, 26.5)
  point P2 (-67, 26.5)
  point P3 (-95, 16)
  point P4 (-95, -16)
  point P5 (-80.9184, 16)
  dimension "d113" = 7
extrude "Extrusion6" cut sketch "Sketch13" along normal through all both and the other way through all
sketch "Sketch14" plane through (-23, -40, 13.1624) normal (-1, 0, 0) x (0, 0, 1)
  line L0 (-13.1624, 64.9184) -> (-13.1624, -103.0816) construction
  line L1 (-26.3249, 15) -> (0, 15) construction
  line L2 (0, -40) -> (0, -55) construction
  line L3 (-26.3249, -40) -> (0, -40) construction
  line L4 (-26.3249, -55) -> (-26.3249, -40) construction
  line L5 (0, -55) -> (-26.3249, -55) construction
  circle A0 centre (-22.1624, 7.5) radius 2 construction
  circle A1 centre (-22.1624, -47.5) radius 2 construction
  line L6 (-26.3249, 0) -> (-26.3249, 15) construction
  line L7 (-26.3249, -55) -> (-26.3249, -40) construction
  line L8 (-13.1624, 17.742) -> (-13.1624, -35.3687)
  circle A2 centre (-4.1624, 7.5) radius 2 construction
  circle A3 centre (-4.1624, -47.5) radius 2 construction
  point P0 (-13.1624, 40)
  point P1 (-26.3249, 7.5)
  point P2 (-26.3249, -47.5)
  point P3 (-26.3249, -47.5)
  point P4 (-26.3249, 7.5)
  dimension "d86" = 4
  dimension "d87" = 4
  dimension "d88" = 9
  dimension "d89" = 9
hole "Hole4" at (-23, -32.5, -9) at (-23, -87.5, -9) at (-23, -32.5, 9) at (-23, -87.5, 9) direction (1, 0, 0) diameter 3.242 depth 6 tip angle 118 thread size "M4x0.7" class "6H" standard "ISO Metric profile"
sketch "Sketch15" plane through (-23, -40, 13.1624) normal (-1, 0, 0) x (0, 0, 1)
  circle A0 centre (-13.1624, 10.5) radius 2.25 projected
  circle A1 centre (-13.1624, -44.5) radius 2.25 projected
  point P0 (-13.1624, 40)
hole "Hole5" at (-23, -29.5, 0) at (-23, -84.5, 0) direction (1, 0, 0) diameter 4.134 depth 7 tip angle 118 thread size "M5x0.8" class "6H" standard "ISO Metric profile"
sketch "Sketch16" plane through (23, -40, -13.1624) normal (1, 0, 0) x (0, 0, -1)
  circle A0 centre (-13.1624, 4.5) radius 2.25 projected
  circle A1 centre (-13.1624, -50.5) radius 2.25 projected
  point P0 (-13.1624, 40)
hole "Hole6" at (23, -35.5, 0) at (23, -90.5, 0) direction (-1, 0, 0) diameter 4.134 depth 7 tip angle 118 thread size "M5x0.8" class "6H" standard "ISO Metric profile"
sketch "Sketch17" plane through (23, -40, -13.1624) normal (1, 0, 0) x (0, 0, -1)
  line L0 (-13.1624, -20) -> (-30.483, -10) construction
  line L1 (-13.1624, -37.5) -> (-13.1624, -2.5) construction
  line L2 (-30.483, -10) -> (-30.483, 19) construction
  line L3 (-13.1624, -20) -> (4.1581, -30) construction
  line L4 (2.8376, -55) -> (2.8376, -40) construction
  line L5 (4.1581, -30) -> (4.1581, -59) construction
  point P0 (-13.1624, 40)
  dimension "d118" = 20
  dimension "d119" = 60
  dimension "d120" = 29
  dimension "d121" = 20
  dimension "d123" = 29
mirror "Mirror1" about plane through (0, 0, 0) normal (1, 0, 0) of "Hole4"
sketch "Sketch18" plane through (-13.1624, -40, 23) normal (0, 0, 1) x (1, 0, 0)
  line L0 (0, 0) -> (0, 15) construction
  line L1 (26.3249, 0) -> (0, 0) construction
  line L2 (26.3249, 15) -> (26.3249, 0) construction
  line L3 (0, 15) -> (26.3249, 15) construction
  line L4 (0, -55) -> (0, -40) construction
  line L5 (26.3249, -55) -> (0, -55) construction
  line L6 (26.3249, -40) -> (26.3249, -55) construction
  line L7 (0, -40) -> (26.3249, -40) construction
  line L8 (13.1624, -104) -> (13.1624, 64) construction
  point P0 (13.1624, 40)
  point P1 (13.1624, 7.5)
  point P2 (13.1624, -47.5)
hole "Hole7" at (0, -32.5, 23) at (0, -87.5, 23) direction (0, 0, -1) diameter 4 depth 23
sketch "Sketch19" plane through (-13.1624, -40, 23) normal (0, 0, 1) x (1, 0, 0)
  circle A0 centre (13.1624, 7.5) radius 2 construction
  line L0 (0, 0) -> (0, 15) construction
  line L1 (26.3249, 0) -> (0, 0) construction
  line L2 (26.3249, 15) -> (26.3249, 0) construction
  line L3 (0, 15) -> (26.3249, 15) construction
  circle A1 centre (13.1624, -47.5) radius 2 construction
  line L4 (0, -55) -> (0, -40) construction
  line L5 (26.3249, -55) -> (0, -55) construction
  line L6 (26.3249, -40) -> (26.3249, -55) construction
  line L7 (0, -40) -> (26.3249, -40) construction
  line L8 (13.1624, 22.1397) -> (13.1624, -67.6131) construction
  line L9 (13.1624, 7.5) -> (24.1624, 7.5) construction
  line L10 (13.1624, 7.5) -> (2.1624, 7.5) construction
  line L11 (13.1624, -47.5) -> (2.1624, -47.5) construction
  line L12 (13.1624, -47.5) -> (24.1624, -47.5) construction
  point P0 (13.1624, 40)
  dimension "d144" = 22
  dimension "d145" = 22
  dimension "d146" = 0
hole "Hole8" at (-11, -32.5, 23) at (11, -32.5, 23) at (11, -87.5, 23) at (-11, -87.5, 23) direction (0, 0, -1) diameter 3.242 depth 6 tip angle 118 thread size "M4x0.7" class "6H" standard "ISO Metric profile"
equation "\"d53\" = d50"
properties part number "01104" material "Aluminum 6061"
